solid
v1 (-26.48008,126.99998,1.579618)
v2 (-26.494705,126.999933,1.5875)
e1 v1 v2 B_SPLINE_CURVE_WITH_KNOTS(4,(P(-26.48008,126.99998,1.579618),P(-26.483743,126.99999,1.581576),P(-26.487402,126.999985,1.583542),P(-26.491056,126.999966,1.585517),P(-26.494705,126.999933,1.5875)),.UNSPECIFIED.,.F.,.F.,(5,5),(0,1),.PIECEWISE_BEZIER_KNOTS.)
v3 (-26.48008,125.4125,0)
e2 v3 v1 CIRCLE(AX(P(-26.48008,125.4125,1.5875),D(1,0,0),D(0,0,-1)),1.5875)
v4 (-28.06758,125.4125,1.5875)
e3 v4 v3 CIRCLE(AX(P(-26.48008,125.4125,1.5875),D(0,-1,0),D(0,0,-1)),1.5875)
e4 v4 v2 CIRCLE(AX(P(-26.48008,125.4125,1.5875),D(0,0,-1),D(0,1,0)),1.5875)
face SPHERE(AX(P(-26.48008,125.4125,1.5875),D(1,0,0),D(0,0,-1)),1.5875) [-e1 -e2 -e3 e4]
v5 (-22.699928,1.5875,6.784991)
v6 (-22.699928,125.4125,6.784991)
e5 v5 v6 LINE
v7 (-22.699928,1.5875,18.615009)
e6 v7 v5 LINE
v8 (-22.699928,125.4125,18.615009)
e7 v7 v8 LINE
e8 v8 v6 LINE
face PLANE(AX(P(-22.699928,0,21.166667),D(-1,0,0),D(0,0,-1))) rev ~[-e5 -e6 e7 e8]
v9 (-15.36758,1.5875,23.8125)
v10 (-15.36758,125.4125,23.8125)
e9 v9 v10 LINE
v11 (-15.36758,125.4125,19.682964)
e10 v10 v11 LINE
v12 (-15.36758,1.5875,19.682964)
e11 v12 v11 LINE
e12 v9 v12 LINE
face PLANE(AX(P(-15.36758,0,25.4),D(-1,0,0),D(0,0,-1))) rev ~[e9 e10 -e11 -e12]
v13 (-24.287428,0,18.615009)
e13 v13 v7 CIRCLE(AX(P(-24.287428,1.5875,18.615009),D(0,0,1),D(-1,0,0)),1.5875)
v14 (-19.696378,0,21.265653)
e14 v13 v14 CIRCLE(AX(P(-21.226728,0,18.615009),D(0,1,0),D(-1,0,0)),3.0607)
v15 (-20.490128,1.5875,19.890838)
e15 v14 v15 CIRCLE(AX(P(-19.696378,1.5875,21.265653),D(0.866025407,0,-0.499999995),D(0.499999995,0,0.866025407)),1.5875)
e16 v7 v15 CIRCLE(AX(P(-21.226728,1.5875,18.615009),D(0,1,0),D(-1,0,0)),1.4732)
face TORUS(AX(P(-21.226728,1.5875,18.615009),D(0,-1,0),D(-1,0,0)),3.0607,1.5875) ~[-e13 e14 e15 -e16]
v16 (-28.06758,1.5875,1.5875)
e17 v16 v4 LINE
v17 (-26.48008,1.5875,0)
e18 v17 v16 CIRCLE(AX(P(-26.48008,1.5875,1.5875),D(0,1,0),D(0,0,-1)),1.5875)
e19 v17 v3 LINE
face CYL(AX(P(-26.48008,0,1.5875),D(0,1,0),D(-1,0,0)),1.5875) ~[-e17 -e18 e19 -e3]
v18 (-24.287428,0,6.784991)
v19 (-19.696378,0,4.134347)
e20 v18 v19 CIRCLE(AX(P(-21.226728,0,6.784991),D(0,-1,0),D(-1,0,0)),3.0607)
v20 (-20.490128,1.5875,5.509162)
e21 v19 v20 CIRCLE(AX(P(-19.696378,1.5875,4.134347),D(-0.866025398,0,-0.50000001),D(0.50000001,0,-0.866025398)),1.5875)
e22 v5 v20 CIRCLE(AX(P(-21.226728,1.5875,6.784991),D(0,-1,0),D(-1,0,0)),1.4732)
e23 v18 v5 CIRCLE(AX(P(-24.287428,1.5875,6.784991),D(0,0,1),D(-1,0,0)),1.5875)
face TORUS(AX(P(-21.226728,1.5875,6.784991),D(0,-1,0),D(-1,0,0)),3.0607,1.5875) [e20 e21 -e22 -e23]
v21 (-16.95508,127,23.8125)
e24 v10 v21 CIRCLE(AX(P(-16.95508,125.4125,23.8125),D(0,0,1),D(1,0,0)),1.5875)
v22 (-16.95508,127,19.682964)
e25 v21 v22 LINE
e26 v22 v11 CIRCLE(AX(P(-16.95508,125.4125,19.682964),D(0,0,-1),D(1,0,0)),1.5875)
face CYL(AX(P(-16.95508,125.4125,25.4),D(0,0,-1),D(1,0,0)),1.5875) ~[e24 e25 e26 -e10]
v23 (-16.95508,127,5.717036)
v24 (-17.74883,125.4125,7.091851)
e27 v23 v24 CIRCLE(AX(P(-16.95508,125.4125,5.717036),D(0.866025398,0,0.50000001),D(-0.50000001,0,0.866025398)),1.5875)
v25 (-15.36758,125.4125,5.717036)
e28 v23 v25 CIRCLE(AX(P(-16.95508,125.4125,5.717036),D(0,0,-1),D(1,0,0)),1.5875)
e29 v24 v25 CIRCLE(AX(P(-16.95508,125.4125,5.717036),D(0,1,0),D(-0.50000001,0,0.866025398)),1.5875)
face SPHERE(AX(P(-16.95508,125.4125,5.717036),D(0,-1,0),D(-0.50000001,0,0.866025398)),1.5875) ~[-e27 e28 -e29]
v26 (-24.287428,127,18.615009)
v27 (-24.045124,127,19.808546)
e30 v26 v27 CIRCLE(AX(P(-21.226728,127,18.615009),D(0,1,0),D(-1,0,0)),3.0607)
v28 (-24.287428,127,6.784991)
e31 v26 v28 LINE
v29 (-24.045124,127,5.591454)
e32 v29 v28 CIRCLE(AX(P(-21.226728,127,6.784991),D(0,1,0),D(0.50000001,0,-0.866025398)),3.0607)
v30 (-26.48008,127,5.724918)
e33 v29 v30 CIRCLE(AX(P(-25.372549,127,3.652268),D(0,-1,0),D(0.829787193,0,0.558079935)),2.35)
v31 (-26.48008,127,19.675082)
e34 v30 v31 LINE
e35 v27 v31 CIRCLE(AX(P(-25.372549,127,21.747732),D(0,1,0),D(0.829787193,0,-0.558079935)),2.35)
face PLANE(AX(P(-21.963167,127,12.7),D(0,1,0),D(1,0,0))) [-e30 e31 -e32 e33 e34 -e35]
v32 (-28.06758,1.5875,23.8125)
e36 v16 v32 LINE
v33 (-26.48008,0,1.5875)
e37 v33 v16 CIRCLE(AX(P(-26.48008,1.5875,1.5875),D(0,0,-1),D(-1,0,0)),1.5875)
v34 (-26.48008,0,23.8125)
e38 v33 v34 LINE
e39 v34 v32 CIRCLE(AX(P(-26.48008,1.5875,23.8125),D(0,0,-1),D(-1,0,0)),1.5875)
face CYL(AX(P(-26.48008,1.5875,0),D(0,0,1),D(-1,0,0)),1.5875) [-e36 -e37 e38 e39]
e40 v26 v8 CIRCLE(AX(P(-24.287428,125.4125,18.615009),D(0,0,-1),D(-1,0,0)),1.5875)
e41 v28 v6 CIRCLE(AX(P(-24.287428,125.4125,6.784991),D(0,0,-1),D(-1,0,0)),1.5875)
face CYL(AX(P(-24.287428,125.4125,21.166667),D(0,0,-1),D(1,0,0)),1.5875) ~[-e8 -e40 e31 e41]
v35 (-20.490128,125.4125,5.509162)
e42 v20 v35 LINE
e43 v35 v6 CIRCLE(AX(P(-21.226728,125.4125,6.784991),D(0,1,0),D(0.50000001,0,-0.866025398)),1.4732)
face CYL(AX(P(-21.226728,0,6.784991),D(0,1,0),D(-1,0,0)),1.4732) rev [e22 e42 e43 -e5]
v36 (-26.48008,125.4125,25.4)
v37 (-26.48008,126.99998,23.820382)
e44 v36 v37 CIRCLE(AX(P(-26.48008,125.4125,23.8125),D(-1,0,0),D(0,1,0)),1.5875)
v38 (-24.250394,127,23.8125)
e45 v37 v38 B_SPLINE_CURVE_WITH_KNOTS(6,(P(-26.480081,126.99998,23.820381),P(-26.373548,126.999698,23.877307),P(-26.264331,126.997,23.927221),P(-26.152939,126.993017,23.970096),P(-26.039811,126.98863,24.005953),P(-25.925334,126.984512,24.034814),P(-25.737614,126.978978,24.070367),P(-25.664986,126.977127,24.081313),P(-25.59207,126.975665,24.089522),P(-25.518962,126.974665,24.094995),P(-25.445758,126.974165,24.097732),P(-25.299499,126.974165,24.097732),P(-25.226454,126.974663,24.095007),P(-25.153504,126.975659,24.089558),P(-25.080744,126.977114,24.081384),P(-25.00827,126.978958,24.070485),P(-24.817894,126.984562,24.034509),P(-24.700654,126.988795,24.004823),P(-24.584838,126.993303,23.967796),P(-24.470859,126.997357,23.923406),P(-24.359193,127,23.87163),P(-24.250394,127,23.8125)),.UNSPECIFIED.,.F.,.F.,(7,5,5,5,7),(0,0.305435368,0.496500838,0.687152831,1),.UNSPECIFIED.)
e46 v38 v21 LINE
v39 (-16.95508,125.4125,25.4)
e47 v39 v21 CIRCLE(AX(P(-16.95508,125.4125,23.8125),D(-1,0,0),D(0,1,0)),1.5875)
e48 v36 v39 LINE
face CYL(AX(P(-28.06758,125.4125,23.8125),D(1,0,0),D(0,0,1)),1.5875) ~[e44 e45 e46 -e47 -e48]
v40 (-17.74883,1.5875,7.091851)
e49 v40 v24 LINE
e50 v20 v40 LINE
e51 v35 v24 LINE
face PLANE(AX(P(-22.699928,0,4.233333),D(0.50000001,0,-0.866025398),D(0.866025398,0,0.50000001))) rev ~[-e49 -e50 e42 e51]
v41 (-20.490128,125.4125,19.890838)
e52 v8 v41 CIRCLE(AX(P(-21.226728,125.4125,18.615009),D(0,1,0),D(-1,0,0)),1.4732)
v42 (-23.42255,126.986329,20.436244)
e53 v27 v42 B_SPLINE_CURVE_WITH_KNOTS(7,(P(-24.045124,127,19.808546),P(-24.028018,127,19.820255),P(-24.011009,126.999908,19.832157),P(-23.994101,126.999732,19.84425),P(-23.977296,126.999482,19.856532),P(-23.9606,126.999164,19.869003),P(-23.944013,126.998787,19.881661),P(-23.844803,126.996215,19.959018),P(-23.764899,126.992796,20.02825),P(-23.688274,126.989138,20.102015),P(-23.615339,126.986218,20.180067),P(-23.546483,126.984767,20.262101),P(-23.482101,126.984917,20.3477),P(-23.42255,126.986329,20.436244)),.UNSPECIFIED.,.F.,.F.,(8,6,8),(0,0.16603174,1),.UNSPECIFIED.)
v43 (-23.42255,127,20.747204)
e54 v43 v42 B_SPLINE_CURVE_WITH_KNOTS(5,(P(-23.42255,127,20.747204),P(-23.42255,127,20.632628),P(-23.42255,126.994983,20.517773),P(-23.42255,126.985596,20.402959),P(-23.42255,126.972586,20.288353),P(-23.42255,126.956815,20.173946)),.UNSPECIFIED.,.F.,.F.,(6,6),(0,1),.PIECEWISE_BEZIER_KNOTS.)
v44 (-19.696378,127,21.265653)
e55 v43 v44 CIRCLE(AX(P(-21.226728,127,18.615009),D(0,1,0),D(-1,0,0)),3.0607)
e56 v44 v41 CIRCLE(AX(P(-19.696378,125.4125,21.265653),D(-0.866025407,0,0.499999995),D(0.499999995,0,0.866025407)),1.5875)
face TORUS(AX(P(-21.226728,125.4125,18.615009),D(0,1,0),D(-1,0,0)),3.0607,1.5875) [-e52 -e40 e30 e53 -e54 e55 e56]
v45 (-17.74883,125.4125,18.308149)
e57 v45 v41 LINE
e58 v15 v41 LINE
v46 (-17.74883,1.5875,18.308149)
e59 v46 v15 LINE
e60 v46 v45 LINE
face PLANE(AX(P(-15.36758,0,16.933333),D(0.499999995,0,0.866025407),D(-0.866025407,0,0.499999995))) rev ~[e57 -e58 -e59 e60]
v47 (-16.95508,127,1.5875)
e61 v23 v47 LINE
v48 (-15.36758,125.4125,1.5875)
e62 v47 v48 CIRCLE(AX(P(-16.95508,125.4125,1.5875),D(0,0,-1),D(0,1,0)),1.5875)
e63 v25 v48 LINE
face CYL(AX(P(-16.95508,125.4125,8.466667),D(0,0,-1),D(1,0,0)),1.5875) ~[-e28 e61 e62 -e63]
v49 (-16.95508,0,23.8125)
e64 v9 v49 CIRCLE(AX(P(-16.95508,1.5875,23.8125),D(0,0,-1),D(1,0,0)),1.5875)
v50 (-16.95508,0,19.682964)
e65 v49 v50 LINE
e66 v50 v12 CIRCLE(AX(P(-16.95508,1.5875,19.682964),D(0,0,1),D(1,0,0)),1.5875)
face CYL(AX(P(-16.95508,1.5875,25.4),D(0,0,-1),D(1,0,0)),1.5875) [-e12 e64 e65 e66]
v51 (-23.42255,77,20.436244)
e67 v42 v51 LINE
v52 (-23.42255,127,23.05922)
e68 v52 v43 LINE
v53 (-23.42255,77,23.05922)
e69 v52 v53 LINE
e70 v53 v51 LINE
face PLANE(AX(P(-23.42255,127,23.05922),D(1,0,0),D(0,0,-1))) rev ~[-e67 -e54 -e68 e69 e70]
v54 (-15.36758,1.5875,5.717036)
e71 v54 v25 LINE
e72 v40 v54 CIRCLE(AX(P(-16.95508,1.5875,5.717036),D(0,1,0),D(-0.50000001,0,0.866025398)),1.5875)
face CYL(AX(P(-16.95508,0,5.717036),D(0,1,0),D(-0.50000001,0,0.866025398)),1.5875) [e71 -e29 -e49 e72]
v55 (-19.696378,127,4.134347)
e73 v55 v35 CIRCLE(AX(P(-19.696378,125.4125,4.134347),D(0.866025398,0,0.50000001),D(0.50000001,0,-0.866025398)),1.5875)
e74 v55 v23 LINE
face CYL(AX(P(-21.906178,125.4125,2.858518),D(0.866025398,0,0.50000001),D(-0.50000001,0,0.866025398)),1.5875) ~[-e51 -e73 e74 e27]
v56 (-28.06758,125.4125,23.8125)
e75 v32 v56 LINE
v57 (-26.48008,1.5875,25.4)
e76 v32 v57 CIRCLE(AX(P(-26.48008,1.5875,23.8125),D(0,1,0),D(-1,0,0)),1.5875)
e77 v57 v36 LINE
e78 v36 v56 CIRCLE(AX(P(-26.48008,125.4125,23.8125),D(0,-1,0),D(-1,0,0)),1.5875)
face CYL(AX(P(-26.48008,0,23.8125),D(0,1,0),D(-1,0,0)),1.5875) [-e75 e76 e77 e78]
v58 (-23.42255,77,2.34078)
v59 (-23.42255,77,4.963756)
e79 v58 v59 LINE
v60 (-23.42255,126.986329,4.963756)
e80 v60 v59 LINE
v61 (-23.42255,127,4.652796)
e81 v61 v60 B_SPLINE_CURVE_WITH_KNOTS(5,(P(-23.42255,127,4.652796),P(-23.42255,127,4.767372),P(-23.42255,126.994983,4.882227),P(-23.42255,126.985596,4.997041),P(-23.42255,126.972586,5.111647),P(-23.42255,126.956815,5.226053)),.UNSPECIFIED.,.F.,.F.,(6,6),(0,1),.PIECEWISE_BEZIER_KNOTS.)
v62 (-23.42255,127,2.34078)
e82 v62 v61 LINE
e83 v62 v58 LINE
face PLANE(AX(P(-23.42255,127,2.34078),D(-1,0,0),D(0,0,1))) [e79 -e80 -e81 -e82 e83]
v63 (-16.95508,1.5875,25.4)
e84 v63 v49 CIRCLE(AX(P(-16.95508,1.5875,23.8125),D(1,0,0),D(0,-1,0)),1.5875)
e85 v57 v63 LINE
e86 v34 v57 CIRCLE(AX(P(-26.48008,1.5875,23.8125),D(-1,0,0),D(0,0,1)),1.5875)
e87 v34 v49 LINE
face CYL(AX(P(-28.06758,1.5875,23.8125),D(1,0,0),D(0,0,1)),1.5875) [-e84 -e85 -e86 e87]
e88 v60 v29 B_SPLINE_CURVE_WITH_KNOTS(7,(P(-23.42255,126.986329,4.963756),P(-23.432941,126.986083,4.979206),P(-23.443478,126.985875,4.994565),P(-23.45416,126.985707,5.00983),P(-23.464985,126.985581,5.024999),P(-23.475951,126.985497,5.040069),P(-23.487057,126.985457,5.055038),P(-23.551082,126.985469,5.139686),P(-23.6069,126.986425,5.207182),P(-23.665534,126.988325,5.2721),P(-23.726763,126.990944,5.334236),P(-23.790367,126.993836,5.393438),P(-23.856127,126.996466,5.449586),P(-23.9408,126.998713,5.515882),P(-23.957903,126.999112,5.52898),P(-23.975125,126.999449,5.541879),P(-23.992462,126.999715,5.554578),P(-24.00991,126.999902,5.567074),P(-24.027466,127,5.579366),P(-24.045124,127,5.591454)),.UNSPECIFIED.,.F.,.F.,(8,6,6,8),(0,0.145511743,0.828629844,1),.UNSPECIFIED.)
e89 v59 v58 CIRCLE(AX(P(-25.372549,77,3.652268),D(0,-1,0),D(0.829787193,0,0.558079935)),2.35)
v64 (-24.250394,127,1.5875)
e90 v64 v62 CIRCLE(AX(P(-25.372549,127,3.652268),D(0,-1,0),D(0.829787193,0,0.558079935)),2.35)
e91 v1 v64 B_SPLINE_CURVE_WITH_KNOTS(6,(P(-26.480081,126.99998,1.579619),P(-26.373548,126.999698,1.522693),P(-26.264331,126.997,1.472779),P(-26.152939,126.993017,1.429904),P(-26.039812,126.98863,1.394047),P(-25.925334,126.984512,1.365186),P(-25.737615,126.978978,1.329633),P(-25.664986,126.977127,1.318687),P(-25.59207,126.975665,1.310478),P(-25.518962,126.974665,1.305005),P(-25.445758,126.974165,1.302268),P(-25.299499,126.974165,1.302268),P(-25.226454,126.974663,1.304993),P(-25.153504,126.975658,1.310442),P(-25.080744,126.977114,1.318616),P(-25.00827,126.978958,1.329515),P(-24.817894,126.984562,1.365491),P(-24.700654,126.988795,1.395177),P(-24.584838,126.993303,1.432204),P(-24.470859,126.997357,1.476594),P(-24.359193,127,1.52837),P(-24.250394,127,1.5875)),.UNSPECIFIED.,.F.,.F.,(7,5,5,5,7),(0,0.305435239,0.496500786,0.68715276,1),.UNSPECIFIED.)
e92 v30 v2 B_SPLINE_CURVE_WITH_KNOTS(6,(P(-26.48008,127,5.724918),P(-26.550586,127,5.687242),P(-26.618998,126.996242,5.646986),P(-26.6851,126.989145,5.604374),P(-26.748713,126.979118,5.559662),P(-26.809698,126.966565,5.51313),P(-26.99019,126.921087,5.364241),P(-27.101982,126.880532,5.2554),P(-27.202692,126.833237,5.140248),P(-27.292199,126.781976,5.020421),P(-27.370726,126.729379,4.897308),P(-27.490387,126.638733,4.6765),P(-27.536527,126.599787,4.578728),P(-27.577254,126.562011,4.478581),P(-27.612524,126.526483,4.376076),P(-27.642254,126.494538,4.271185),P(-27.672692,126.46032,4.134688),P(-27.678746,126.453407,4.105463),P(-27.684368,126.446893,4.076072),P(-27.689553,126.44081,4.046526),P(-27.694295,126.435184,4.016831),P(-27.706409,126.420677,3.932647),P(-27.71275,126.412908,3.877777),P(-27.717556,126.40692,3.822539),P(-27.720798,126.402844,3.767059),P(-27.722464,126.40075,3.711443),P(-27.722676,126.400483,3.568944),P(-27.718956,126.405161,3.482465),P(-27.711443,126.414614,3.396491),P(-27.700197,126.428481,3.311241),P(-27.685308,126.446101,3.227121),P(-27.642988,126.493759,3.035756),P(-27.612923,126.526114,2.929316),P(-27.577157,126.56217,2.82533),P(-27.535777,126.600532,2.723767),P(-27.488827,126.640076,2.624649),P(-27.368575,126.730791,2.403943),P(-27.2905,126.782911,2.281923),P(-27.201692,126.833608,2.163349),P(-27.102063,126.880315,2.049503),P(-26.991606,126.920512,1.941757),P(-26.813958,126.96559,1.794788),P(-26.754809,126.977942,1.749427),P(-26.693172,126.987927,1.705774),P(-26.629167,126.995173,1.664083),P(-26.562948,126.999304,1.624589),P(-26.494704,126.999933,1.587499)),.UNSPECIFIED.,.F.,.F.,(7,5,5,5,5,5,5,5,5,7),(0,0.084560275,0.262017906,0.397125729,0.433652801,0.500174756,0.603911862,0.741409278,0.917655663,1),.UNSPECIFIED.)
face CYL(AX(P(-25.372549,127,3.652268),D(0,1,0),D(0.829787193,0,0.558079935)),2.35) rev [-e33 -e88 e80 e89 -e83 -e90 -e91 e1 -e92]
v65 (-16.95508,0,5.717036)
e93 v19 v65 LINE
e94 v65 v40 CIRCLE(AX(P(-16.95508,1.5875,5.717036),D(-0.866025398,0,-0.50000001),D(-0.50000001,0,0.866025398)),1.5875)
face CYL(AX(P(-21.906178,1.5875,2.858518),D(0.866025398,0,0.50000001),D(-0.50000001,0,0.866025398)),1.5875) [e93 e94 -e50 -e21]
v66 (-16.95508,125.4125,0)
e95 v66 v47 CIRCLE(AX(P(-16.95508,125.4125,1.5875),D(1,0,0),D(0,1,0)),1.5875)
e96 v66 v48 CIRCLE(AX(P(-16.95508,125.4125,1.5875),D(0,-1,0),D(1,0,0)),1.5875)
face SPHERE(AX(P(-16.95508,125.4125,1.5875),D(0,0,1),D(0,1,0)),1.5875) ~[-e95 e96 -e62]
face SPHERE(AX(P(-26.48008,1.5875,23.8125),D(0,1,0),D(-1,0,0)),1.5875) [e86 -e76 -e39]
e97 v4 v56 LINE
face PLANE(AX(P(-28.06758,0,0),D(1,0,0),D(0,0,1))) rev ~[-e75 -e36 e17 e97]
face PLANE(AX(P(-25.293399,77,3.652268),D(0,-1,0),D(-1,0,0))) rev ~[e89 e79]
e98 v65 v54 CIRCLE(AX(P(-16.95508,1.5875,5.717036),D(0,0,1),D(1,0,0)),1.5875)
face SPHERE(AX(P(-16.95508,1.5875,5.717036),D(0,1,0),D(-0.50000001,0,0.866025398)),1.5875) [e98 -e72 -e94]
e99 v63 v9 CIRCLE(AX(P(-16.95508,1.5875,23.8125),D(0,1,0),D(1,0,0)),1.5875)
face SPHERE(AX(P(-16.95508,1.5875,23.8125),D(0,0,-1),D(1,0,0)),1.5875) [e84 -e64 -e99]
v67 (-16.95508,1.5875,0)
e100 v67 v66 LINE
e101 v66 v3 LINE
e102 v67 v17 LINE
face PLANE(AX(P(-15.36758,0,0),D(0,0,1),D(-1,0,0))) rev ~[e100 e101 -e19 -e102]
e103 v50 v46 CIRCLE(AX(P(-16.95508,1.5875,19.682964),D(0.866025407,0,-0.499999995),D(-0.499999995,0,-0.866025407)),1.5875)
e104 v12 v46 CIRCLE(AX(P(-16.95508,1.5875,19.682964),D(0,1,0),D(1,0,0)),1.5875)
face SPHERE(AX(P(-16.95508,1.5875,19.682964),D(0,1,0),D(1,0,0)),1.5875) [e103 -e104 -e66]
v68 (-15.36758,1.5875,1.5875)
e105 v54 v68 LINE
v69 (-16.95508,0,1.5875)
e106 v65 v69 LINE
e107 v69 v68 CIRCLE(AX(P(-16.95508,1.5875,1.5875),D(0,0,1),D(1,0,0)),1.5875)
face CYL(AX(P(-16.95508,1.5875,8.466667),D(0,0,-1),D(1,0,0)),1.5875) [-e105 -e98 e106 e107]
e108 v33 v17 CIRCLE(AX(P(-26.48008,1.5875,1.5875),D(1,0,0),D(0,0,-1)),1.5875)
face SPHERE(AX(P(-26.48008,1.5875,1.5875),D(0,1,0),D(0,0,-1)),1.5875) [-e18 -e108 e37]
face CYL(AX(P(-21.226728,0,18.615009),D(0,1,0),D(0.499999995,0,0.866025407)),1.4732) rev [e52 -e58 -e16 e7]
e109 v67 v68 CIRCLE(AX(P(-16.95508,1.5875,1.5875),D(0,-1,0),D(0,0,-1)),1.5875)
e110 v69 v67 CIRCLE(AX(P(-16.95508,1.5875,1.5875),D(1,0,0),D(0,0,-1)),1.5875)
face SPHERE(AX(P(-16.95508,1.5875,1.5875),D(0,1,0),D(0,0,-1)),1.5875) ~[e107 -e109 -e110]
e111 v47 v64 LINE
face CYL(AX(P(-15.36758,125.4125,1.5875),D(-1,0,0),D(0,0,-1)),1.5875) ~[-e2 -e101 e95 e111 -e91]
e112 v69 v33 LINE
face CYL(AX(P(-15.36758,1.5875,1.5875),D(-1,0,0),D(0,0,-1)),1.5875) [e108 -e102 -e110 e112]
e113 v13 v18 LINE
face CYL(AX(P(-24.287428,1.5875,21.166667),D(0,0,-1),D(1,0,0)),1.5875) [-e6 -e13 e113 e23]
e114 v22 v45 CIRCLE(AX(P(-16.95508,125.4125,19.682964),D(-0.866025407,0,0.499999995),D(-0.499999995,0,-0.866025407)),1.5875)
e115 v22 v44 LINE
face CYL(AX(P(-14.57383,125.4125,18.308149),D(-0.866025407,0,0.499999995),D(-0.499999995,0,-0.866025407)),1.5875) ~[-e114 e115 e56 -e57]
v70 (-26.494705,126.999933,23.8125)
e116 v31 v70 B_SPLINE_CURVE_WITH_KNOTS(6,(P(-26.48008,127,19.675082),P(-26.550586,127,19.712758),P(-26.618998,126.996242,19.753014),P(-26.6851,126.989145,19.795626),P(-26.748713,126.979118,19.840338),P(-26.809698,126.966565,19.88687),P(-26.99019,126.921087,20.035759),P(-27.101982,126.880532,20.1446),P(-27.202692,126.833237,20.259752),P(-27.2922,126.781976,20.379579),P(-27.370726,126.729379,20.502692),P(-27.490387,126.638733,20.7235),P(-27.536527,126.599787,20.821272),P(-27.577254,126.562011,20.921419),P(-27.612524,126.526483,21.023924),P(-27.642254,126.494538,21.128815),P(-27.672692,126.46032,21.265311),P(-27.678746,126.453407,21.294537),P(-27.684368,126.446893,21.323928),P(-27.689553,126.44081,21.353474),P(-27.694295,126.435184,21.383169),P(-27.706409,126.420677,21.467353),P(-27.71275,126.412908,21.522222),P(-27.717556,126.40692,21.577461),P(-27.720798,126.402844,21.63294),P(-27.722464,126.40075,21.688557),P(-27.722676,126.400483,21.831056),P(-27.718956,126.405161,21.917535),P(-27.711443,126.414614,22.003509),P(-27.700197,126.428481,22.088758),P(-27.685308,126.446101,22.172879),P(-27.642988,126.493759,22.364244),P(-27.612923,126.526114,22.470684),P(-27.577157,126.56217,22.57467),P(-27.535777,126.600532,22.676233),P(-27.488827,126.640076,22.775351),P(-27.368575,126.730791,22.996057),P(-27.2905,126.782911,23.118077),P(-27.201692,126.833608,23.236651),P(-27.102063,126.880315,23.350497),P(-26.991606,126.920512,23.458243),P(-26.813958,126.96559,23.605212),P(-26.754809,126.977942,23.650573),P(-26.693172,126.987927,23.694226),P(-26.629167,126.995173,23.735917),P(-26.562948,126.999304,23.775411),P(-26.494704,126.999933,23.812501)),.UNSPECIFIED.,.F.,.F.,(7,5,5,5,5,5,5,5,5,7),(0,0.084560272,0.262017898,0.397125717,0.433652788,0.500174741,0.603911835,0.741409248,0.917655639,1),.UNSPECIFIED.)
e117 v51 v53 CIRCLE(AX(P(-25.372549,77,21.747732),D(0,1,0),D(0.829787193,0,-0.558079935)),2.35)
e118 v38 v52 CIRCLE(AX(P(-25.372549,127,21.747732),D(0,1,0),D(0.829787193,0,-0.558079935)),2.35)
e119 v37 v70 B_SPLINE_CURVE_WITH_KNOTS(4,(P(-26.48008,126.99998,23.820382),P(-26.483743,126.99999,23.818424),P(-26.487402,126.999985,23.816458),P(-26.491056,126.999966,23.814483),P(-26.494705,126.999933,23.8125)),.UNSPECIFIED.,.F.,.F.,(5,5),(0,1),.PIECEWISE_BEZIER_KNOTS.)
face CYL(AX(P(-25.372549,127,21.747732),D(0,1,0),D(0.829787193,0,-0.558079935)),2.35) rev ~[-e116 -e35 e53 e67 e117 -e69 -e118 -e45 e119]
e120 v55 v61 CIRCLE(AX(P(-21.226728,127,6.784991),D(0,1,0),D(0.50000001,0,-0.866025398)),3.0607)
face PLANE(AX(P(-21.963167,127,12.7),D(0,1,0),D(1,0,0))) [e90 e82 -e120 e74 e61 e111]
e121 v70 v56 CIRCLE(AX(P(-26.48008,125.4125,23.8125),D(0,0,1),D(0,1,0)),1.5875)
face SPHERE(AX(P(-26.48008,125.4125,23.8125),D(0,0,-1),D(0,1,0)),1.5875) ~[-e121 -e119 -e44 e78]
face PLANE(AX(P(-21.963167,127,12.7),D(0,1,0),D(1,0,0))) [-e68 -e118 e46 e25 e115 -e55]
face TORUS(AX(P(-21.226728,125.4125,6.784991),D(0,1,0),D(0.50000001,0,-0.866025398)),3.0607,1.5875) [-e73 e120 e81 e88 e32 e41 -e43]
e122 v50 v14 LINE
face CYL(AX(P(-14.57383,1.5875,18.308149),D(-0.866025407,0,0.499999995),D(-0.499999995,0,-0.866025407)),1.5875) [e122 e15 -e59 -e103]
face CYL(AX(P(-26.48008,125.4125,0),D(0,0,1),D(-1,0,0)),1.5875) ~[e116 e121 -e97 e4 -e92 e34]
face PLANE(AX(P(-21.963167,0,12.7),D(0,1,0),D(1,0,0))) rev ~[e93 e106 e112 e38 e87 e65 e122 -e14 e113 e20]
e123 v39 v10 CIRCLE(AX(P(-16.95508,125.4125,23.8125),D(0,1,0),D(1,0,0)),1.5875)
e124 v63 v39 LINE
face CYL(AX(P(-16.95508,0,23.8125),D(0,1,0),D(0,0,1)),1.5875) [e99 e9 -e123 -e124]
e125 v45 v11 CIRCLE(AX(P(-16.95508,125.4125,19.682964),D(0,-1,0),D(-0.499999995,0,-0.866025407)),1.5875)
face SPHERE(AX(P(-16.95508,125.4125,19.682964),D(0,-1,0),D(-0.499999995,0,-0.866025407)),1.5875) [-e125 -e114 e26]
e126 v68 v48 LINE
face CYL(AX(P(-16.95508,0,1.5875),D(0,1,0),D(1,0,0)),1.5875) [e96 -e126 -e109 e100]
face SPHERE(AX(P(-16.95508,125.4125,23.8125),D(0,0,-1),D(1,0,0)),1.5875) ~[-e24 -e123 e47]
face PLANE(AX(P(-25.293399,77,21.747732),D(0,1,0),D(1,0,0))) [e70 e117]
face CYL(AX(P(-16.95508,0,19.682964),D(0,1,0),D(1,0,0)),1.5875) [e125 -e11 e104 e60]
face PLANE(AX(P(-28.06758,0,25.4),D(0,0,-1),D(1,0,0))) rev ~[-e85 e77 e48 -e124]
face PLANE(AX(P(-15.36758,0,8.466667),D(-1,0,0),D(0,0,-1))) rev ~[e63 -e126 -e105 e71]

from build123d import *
from OCP.BRepFilletAPI import BRepFilletAPI_MakeFillet

# Parameters (mm, degrees)
BOSS_EXTRUDE2_DEPTH = 127
FILLET1_R1          = 1.5875
FILLET1_R2          = 1.4732
CUT_EXTRUDE1_DEPTH  = 50


with BuildPart() as part:
    # Sketch1 → Boss-Extrude2 (new body)
    with BuildSketch(Plane(origin=(0, 0, 0), x_dir=(1, 0, 0), z_dir=(0, 1, 0))):
        Polygon((-28.067579909, 0), (-28.067579909, -25.4), (-15.367579909, -25.4), (-15.367579909, -16.933333333), (-22.699928279, -21.166666582), (-22.699928279, -4.233333249), (-15.367579909, -8.466666667), (-15.367579909, 0), align=None)
    extrude(amount=BOSS_EXTRUDE2_DEPTH)

    # Fillet1: one fillet with a radius per group of edges: ONE call of the kernel's fillet builder (fillet() takes one radius for all edges)
    fillet1_edges_1 = [part.edges().sort_by_distance(p)[0] for p in [
        (-19.033754094, 127, 6.349999958),
        (-22.699928279, 127, 12.699999915),
        (-19.033754094, 127, 19.049999958),
        (-15.367579909, 127, 21.166666667),
        (-15.367579909, 127, 4.233333333),
        (-21.717579909, 127, 0),
        (-28.067579909, 63.5, 0),
        (-15.367579909, 63.5, 0),
        (-21.717579909, 0, 0),
        (-15.367579909, 0, 4.233333333),
        (-15.367579909, 63.5, 8.466666667),
        (-15.367579909, 63.5, 16.933333333),
        (-15.367579909, 0, 21.166666667),
        (-15.367579909, 63.5, 25.4),
        (-22.699928279, 0, 12.699999915),
        (-28.067579909, 127, 12.7),
        (-21.717579909, 127, 25.4),
        (-28.067579909, 63.5, 25.4),
        (-28.067579909, 0, 12.7),
        (-21.717579909, 0, 25.4),
        (-19.033754094, 0, 6.349999958),
        (-19.033754094, 0, 19.049999958),
    ]]
    fillet1_edges_2 = [part.edges().sort_by_distance(p)[0] for p in [
        (-22.699928279, 63.5, 4.233333249),
        (-22.699928279, 63.5, 21.166666582),
    ]]
    fillet1 = BRepFilletAPI_MakeFillet(part.part.solid().wrapped)
    for e in fillet1_edges_1:
        fillet1.Add(FILLET1_R1, e.wrapped)
    for e in fillet1_edges_2:
        fillet1.Add(FILLET1_R2, e.wrapped)
    add(Compound.cast(fillet1.Shape()), mode=Mode.REPLACE)

    # Sketch2 → Cut-Extrude1 (cut)
    with BuildSketch(Plane(origin=(0, 127, 0), x_dir=(1, 0, 0), z_dir=(0, 1, 0))):
        with BuildLine():
            Line((-23.422549559, -2.340780121), (-23.422549559, -4.963755825))
            ThreePointArc((-23.422549559, -4.963755825), (-27.722549476, -3.652267973), (-23.422549559, -2.340780121))
        make_face()
        with BuildLine():
            Line((-23.422549559, -23.059219761), (-23.422549559, -20.436244057))
            ThreePointArc((-23.422549559, -20.436244057), (-27.722549476, -21.747731909), (-23.422549559, -23.059219761))
        make_face()
    extrude(amount=-CUT_EXTRUDE1_DEPTH, mode=Mode.SUBTRACT)


solid = part.part
